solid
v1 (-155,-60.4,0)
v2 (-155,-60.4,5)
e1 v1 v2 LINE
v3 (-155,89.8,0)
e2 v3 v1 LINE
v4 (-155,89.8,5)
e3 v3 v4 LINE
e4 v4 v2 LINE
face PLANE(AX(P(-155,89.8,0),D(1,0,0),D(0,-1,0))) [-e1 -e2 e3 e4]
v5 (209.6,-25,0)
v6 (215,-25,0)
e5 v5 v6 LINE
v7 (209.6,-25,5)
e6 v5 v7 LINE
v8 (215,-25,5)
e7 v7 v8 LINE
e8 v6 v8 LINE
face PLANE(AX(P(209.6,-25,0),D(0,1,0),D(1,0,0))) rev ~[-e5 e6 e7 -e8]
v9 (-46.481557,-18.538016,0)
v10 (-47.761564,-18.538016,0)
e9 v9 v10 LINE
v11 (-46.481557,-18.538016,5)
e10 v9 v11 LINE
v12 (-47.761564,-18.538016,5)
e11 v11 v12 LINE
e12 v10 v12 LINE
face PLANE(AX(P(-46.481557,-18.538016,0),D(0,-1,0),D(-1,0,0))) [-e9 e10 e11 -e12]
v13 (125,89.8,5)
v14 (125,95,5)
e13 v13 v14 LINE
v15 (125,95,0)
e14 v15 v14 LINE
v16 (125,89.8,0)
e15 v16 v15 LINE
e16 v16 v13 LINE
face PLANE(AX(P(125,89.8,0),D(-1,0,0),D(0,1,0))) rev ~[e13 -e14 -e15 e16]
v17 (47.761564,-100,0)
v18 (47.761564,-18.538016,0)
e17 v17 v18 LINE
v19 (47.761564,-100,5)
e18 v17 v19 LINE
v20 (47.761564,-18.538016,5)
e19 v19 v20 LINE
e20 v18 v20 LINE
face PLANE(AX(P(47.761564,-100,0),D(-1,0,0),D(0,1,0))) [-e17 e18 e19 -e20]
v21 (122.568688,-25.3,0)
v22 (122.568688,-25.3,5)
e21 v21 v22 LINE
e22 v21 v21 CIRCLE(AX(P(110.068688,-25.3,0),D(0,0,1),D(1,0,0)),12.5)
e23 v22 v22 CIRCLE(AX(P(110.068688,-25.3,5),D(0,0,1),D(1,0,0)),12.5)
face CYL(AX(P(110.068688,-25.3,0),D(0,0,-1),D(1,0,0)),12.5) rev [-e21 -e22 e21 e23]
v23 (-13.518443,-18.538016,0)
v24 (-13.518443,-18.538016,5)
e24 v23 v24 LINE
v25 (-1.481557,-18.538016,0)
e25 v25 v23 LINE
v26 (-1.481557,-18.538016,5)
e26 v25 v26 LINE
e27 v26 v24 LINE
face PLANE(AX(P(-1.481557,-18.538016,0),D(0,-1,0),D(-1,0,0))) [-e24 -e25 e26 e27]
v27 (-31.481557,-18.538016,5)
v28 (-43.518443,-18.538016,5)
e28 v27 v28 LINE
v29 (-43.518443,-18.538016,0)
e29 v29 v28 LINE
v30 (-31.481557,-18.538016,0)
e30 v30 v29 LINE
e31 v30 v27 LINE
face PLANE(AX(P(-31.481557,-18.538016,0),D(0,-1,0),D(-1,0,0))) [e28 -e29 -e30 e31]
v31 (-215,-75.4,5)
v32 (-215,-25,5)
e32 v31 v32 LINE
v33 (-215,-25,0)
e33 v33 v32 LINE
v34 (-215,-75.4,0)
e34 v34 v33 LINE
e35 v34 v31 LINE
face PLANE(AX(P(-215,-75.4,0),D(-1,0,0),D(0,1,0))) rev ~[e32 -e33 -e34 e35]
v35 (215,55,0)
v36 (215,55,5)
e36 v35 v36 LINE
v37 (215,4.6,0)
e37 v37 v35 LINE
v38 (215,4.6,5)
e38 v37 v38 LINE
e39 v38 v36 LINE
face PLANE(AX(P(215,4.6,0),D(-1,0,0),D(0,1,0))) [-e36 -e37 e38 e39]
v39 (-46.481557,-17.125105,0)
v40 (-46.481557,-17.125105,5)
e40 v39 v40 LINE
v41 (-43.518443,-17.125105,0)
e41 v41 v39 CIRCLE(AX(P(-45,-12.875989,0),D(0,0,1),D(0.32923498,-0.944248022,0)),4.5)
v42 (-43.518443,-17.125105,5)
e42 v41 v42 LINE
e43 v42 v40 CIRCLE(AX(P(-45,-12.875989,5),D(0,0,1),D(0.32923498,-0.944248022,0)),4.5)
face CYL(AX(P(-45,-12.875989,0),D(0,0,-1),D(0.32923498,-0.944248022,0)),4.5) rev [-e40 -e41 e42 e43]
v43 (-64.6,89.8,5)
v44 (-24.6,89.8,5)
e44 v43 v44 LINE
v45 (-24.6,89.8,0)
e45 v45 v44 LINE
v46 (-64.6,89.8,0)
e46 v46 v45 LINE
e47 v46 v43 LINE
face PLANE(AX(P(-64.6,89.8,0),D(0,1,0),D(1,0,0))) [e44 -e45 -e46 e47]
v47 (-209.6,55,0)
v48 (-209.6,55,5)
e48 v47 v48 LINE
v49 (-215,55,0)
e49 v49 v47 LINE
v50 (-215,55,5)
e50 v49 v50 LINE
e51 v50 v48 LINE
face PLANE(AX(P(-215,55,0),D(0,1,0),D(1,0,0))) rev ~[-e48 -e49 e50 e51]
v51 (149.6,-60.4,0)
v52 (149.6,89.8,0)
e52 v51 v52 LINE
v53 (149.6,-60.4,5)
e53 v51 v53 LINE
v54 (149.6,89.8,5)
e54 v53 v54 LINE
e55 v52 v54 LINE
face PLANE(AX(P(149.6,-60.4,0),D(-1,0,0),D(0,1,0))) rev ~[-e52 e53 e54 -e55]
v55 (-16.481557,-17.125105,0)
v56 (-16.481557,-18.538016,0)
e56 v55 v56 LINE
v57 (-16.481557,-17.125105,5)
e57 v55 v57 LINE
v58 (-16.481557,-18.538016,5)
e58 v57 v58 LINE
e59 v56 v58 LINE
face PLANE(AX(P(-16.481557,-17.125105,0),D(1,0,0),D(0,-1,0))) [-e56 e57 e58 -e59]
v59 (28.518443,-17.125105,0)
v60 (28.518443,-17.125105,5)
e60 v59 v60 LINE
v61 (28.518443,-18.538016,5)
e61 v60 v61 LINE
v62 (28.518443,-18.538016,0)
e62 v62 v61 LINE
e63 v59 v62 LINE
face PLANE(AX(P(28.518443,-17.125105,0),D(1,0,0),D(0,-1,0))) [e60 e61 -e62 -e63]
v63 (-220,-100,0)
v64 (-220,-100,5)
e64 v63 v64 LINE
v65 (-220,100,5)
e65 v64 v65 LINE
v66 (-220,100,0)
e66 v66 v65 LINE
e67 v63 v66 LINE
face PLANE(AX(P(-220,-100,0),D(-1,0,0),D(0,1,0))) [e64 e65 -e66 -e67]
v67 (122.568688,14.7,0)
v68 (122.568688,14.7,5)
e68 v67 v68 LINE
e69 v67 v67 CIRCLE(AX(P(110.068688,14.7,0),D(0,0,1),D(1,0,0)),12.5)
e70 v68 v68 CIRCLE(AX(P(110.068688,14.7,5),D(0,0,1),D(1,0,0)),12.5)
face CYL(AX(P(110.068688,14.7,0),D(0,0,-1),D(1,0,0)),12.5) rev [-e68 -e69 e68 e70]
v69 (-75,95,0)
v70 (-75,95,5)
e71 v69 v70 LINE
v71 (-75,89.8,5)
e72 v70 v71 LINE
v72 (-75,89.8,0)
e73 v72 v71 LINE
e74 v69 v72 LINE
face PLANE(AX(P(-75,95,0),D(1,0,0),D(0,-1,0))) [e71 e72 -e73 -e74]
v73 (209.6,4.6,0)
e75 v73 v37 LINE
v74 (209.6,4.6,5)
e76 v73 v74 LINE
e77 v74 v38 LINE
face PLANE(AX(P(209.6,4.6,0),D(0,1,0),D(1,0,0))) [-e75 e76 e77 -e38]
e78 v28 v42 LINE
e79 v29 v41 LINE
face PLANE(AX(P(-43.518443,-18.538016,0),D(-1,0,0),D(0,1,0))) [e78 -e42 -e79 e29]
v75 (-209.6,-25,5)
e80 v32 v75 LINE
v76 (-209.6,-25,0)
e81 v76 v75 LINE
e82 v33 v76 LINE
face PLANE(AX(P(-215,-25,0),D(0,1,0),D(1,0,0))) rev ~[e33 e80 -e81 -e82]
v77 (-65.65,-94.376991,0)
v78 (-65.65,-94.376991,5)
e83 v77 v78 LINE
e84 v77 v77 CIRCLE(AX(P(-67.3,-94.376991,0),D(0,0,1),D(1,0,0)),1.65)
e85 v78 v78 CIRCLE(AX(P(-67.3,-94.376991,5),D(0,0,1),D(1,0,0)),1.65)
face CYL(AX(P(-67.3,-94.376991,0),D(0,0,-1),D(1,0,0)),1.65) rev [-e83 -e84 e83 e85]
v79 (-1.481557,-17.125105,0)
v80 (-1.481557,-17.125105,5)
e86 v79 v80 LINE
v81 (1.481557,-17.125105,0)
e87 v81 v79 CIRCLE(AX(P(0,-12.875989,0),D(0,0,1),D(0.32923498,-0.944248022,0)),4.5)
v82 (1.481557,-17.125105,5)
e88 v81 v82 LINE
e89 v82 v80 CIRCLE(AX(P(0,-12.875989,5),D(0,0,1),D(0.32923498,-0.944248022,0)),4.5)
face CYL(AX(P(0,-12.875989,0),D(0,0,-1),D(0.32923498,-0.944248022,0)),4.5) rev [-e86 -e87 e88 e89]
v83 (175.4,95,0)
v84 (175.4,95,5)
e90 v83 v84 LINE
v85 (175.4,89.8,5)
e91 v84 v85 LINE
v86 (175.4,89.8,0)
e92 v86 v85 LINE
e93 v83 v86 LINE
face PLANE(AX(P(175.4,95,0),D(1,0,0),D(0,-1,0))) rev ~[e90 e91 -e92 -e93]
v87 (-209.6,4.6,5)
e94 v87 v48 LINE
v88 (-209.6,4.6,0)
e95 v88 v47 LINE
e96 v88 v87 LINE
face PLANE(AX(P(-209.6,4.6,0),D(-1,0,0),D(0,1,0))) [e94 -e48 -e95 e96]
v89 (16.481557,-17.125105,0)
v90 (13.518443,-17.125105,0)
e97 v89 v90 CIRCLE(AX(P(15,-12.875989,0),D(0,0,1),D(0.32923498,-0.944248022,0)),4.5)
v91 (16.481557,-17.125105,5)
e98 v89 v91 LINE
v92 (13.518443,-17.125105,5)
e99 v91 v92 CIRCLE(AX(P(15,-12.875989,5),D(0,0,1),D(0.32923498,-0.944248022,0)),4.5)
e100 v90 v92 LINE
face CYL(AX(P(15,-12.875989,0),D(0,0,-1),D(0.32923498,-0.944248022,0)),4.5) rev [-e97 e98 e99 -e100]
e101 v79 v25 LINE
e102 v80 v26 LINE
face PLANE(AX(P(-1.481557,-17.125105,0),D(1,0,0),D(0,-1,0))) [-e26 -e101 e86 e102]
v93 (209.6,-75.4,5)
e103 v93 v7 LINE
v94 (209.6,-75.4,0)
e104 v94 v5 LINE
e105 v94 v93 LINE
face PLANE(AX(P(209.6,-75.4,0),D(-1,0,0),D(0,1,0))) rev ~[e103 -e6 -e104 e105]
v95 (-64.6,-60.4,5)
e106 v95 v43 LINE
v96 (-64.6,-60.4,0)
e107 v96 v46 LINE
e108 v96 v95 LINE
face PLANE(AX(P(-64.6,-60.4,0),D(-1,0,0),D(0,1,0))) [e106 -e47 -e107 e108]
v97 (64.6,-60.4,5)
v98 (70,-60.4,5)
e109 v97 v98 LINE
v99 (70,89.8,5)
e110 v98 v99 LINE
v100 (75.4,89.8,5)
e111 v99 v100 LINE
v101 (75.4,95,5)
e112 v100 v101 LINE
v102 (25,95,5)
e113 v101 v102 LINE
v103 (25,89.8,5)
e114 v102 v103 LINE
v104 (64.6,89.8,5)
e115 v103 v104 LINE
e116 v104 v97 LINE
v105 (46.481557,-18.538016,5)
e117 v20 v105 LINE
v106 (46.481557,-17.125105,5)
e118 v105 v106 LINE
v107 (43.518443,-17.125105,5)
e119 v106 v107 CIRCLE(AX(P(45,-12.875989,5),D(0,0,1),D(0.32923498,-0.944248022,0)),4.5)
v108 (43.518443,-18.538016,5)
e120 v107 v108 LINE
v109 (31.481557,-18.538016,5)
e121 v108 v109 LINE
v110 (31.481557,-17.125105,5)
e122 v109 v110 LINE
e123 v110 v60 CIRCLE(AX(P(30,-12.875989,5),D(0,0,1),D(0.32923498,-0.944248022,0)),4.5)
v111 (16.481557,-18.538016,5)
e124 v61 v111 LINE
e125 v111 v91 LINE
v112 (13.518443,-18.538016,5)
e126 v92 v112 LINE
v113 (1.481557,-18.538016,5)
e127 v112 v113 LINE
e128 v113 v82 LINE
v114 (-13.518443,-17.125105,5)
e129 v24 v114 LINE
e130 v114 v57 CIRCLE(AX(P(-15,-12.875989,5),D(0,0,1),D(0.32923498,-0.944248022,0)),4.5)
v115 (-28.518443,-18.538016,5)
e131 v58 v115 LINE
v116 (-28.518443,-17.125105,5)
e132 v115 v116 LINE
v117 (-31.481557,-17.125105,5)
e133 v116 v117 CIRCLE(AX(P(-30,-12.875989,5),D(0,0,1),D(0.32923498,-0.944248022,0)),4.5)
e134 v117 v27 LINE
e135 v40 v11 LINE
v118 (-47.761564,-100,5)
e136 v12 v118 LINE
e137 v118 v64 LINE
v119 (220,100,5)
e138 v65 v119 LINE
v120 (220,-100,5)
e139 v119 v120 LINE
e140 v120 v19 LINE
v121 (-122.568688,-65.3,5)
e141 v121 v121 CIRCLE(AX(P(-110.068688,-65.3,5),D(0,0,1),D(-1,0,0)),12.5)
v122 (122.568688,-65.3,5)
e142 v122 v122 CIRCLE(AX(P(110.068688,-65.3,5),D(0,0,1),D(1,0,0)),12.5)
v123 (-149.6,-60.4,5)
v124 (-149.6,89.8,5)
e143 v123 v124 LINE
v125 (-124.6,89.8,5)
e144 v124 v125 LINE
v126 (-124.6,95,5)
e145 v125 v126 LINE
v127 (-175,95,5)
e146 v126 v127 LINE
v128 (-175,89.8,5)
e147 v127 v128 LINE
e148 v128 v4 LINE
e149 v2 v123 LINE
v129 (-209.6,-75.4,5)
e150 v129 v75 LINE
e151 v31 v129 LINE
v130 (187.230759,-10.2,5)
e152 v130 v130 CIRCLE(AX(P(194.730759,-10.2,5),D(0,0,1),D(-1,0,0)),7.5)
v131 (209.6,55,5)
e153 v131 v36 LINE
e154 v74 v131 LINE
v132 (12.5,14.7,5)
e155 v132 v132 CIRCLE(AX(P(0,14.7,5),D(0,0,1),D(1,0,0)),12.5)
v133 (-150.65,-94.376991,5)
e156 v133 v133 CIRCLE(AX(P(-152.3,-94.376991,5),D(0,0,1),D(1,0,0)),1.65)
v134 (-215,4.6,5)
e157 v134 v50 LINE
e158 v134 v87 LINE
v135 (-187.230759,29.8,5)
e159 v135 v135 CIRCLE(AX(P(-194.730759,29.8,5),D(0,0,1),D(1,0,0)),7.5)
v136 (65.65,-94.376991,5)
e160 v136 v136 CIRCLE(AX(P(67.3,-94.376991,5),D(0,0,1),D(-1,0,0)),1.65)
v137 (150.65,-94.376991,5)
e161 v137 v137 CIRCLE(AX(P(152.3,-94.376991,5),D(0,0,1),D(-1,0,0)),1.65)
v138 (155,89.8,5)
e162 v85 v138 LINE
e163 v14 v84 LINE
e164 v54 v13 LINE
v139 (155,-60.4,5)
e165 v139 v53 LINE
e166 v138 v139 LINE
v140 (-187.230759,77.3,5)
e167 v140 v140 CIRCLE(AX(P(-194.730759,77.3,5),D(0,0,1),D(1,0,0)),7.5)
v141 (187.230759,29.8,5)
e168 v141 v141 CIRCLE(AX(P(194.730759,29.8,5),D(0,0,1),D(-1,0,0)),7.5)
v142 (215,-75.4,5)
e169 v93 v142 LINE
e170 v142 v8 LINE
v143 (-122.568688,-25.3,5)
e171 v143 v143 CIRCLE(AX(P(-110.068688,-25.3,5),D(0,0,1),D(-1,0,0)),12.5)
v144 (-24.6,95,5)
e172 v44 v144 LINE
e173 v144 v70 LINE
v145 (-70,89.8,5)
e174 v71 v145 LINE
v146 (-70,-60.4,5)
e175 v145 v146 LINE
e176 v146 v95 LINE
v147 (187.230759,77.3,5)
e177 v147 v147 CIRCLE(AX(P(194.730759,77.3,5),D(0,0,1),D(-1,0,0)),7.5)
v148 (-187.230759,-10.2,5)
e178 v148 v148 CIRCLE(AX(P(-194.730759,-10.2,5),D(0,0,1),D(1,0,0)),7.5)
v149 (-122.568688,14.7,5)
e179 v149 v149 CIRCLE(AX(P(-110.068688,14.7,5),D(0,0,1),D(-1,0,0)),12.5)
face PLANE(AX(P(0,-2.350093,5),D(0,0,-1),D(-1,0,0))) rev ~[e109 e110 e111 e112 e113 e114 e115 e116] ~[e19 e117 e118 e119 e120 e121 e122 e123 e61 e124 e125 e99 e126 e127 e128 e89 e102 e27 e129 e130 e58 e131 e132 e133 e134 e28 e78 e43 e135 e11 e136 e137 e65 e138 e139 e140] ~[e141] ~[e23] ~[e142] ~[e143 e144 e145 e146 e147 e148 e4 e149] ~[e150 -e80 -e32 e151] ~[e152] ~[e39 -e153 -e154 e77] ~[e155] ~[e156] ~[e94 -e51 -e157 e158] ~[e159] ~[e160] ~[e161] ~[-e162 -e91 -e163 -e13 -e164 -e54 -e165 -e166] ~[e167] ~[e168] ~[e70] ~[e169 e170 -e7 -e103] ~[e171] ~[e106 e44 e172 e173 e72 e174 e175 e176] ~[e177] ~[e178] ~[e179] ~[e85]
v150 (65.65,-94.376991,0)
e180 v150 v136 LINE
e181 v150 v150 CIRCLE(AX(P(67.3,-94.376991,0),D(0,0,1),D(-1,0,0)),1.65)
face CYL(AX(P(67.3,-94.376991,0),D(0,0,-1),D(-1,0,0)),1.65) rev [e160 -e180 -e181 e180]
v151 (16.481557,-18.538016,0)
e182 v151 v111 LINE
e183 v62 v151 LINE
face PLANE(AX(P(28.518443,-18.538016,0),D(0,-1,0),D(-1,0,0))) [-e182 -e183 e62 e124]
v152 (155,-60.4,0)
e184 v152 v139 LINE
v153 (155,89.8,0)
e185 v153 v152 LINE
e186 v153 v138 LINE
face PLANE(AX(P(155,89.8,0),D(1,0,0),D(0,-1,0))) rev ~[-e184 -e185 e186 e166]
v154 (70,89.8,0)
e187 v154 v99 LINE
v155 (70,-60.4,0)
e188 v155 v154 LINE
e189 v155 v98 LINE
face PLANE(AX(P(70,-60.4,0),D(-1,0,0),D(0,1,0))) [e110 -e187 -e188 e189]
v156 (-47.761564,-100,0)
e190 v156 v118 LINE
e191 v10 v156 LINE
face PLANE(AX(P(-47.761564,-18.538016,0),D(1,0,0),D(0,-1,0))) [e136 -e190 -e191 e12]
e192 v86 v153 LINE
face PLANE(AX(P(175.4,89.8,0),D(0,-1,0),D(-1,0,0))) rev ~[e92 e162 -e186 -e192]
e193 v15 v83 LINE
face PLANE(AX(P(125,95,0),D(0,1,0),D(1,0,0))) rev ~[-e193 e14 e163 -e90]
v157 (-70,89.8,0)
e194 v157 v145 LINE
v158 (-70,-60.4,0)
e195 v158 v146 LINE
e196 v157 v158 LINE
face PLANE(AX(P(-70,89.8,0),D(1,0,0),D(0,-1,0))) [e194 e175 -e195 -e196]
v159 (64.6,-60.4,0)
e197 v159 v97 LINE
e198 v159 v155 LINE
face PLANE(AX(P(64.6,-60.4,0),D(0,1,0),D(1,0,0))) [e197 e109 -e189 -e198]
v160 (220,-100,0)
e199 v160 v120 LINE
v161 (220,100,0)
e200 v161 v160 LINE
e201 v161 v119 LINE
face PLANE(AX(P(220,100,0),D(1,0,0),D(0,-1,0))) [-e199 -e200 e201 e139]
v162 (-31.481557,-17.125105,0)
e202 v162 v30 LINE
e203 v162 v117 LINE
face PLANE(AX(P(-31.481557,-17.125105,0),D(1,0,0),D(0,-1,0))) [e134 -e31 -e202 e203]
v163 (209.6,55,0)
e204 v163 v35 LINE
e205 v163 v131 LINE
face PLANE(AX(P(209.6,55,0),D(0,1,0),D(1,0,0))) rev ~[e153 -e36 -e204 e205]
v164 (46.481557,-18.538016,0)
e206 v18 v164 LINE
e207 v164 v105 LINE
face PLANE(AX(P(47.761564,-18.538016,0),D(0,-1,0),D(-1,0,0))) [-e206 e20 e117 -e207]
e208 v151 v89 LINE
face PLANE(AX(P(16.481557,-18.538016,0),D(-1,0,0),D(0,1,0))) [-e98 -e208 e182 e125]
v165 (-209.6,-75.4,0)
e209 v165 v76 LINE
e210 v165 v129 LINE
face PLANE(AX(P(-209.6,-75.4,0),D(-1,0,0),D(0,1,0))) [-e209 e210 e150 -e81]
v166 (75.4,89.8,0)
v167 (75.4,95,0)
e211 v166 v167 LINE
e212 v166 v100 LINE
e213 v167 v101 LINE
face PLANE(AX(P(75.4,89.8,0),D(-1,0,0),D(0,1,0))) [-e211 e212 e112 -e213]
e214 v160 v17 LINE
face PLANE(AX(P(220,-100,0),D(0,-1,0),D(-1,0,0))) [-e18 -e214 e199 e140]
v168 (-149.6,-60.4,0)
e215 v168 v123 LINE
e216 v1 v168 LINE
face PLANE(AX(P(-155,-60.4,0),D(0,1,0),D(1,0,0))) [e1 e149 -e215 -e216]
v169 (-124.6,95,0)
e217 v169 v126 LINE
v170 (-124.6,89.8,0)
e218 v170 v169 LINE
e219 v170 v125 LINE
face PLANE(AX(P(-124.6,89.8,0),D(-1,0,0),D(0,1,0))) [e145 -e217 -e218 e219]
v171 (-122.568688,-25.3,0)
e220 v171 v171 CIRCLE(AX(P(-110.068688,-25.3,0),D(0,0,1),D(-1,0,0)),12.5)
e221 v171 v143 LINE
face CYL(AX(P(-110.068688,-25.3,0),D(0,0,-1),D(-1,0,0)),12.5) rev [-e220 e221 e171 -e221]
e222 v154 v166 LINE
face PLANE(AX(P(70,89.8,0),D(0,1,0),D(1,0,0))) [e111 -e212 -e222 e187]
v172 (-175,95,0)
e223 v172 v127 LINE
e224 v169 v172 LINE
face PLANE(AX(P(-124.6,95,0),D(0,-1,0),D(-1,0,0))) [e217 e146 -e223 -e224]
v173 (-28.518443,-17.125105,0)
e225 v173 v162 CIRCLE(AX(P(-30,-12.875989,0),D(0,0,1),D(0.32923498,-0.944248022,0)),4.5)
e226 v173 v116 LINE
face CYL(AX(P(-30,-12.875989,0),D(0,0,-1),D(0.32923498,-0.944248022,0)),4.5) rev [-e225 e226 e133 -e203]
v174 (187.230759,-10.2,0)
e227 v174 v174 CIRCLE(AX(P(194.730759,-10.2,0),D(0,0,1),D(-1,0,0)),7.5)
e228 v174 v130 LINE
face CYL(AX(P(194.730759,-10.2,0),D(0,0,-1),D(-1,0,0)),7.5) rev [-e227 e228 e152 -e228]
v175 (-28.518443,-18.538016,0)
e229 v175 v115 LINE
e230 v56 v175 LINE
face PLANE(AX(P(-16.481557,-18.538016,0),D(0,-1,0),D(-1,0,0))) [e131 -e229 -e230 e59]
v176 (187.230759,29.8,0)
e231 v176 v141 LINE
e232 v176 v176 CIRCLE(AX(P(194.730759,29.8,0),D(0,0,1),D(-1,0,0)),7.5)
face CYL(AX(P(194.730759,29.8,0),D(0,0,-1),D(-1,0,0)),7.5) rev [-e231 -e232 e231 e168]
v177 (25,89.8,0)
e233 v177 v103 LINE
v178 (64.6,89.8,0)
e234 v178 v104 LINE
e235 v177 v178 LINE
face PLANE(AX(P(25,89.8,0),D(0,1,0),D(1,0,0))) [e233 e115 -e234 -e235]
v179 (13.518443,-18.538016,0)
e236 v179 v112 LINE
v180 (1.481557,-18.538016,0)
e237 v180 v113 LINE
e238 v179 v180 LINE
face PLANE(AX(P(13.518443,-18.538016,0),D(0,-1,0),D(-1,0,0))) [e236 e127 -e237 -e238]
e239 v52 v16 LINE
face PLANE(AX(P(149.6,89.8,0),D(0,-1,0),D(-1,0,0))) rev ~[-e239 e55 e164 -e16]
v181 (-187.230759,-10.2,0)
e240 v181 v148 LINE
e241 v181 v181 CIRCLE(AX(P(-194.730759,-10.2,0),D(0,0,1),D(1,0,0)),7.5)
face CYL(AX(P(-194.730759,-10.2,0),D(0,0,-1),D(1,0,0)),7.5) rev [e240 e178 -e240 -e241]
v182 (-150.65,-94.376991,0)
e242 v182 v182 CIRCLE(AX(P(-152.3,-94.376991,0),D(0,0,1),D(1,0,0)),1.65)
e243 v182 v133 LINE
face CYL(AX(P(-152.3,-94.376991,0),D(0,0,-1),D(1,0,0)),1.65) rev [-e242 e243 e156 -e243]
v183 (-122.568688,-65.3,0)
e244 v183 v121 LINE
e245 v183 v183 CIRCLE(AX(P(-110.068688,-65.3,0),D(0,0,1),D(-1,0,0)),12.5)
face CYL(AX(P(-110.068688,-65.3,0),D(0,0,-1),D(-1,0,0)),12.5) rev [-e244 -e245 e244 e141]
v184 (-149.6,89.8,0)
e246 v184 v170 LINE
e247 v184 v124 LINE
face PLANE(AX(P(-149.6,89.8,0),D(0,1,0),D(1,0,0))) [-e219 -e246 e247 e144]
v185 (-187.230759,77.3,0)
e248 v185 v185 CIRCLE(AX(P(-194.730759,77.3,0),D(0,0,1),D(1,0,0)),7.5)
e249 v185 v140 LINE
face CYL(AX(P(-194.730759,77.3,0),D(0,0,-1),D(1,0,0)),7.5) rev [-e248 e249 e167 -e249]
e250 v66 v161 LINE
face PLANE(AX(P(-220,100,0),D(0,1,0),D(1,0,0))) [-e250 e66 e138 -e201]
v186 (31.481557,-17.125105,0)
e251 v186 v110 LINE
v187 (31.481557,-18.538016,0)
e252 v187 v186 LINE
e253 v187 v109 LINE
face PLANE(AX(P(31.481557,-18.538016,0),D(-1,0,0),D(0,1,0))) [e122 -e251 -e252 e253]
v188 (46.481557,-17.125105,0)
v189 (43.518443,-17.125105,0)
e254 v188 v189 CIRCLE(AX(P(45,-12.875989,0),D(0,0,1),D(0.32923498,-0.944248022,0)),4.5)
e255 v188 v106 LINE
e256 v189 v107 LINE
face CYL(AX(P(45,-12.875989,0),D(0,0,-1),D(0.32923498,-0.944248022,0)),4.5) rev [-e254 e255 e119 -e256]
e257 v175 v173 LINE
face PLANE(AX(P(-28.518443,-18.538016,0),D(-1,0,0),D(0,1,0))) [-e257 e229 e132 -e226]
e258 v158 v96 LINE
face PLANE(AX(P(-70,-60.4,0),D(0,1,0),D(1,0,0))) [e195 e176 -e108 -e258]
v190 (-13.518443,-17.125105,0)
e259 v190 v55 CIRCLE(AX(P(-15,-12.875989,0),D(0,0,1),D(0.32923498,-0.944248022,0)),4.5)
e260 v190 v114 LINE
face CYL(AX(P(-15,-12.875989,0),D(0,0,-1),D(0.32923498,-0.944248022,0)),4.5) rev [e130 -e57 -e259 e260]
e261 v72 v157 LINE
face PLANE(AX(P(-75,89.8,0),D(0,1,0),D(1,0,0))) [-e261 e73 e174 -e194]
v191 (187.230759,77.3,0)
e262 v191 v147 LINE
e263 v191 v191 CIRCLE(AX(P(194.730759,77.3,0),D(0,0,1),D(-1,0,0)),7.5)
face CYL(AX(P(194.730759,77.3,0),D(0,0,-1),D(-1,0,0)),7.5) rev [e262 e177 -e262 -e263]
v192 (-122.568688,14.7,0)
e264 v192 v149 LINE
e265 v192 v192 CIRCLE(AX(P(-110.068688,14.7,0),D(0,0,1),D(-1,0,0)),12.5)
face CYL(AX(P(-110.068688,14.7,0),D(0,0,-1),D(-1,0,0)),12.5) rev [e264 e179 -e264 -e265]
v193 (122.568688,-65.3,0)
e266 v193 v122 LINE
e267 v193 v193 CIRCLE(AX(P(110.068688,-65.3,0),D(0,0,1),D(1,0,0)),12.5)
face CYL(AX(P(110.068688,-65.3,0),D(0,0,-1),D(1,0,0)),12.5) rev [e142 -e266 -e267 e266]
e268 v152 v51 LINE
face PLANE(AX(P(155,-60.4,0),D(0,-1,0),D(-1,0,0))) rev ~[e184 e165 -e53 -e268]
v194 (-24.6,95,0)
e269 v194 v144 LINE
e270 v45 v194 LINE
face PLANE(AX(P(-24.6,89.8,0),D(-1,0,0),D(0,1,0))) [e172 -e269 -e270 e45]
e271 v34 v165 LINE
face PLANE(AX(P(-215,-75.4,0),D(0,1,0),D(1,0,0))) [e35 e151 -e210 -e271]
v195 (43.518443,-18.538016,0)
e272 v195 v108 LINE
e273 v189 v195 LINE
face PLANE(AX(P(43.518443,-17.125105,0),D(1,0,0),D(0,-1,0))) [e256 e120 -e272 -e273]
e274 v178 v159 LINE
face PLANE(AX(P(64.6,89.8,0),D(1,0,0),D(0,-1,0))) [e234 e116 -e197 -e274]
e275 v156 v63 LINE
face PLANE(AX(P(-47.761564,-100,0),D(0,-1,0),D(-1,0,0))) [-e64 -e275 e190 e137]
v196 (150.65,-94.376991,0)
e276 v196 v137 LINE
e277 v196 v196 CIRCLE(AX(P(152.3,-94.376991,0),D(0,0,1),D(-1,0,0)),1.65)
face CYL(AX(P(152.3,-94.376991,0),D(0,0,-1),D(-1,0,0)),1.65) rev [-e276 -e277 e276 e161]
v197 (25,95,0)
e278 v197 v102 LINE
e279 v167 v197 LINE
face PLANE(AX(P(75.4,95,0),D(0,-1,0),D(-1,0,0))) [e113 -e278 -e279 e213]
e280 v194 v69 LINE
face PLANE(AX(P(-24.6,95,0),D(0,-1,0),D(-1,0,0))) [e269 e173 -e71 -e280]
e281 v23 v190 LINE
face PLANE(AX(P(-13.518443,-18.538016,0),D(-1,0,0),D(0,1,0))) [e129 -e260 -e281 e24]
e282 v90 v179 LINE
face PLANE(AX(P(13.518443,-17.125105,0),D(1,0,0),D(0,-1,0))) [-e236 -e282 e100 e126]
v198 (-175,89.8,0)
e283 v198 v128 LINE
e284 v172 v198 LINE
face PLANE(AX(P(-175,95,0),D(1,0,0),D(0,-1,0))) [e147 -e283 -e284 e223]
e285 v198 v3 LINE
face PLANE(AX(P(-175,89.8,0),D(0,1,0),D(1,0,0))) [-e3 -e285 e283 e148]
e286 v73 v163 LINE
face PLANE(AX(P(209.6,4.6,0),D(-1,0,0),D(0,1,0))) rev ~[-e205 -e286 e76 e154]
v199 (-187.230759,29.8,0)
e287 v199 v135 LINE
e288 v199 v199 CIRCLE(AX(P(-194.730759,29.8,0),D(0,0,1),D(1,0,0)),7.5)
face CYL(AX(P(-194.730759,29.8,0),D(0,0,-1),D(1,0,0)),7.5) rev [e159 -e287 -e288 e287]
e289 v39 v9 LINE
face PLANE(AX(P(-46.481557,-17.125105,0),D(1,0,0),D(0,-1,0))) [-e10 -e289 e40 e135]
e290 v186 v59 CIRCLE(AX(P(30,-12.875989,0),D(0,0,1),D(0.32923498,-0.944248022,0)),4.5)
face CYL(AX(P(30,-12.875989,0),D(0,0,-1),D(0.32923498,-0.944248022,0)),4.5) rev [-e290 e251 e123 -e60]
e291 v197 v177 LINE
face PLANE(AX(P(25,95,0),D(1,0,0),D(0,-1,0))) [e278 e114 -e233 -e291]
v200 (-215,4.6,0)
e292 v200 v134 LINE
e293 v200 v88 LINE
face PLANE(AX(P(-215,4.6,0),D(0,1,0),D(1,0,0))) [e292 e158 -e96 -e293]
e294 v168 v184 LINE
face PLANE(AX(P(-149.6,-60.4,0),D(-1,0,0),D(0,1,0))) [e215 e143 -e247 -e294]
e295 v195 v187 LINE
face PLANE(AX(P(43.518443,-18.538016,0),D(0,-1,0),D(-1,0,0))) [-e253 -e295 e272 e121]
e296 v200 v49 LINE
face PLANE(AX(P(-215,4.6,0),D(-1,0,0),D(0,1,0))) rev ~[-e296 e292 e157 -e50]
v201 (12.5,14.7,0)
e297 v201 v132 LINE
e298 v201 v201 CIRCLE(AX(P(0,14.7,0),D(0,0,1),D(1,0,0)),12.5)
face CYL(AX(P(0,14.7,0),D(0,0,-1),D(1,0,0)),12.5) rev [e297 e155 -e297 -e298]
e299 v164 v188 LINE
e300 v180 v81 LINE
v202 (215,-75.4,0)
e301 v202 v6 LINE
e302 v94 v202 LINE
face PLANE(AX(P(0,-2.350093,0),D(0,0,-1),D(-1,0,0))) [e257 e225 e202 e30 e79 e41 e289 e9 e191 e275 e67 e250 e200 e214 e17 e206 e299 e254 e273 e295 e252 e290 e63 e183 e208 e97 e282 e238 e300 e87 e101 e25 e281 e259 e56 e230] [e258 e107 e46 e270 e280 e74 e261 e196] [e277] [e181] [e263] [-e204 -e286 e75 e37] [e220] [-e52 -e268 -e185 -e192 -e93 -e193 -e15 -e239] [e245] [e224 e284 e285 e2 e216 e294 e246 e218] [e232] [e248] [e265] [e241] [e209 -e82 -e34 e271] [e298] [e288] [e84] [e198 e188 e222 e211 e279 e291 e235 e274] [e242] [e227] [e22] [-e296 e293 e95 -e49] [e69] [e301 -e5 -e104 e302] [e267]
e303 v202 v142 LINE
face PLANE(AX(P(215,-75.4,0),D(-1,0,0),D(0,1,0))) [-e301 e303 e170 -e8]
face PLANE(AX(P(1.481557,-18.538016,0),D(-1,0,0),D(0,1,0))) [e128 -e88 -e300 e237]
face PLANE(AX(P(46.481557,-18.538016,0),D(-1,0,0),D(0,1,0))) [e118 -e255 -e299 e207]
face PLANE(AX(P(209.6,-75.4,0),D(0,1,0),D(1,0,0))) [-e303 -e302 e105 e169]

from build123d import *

# Parameters (mm, degrees)
ESQUISSE1_R        = 1.65
ESQUISSE1_R_2      = 7.5
ESQUISSE1_R_3      = 12.5
ESQUISSE1_W        = 5.4
ESQUISSE1_H        = 50.4
BOSS_EXTRU_1_DEPTH = 5


with BuildPart() as part:
    # Esquisse1 → Boss.-Extru.1 (new body)
    with BuildSketch(Plane.XY):
        with BuildLine():
            Line((-220, 100), (-0.145812859, 100))
            Line((-0.145812859, 100), (9.854187141, 100))
            Line((9.854187141, 100), (220, 100))
            Line((220, 100), (220, -100))
            Line((220, -100), (47.761564371, -100))
            Line((47.761564371, -100), (47.761564371, -18.538015518))
            Line((47.761564371, -18.538015518), (46.481557411, -18.538015518))
            Line((46.481557411, -18.538015518), (46.481557411, -17.125104692))
            ThreePointArc((46.481557411, -17.125104692), (45, -8.375988591), (43.518442589, -17.125104692))
            Line((43.518442589, -17.125104692), (43.518442589, -18.538015518))
            Line((43.518442589, -18.538015518), (31.481557411, -18.538015518))
            Line((31.481557411, -18.538015518), (31.481557411, -17.125104692))
            ThreePointArc((31.481557411, -17.125104692), (30, -8.375988591), (28.518442589, -17.125104692))
            Line((28.518442589, -17.125104692), (28.518442589, -18.538015518))
            Line((28.518442589, -18.538015518), (16.481557411, -18.538015518))
            Line((16.481557411, -18.538015518), (16.481557411, -17.125104692))
            ThreePointArc((16.481557411, -17.125104692), (15, -8.375988591), (13.518442589, -17.125104692))
            Line((13.518442589, -17.125104692), (13.518442589, -18.538015518))
            Line((13.518442589, -18.538015518), (1.481557411, -18.538015518))
            Line((1.481557411, -18.538015518), (1.481557411, -17.125104692))
            ThreePointArc((1.481557411, -17.125104692), (0, -8.375988591), (-1.481557411, -17.125104692))
            Line((-1.481557411, -17.125104692), (-1.481557411, -18.538015518))
            Line((-1.481557411, -18.538015518), (-13.518442589, -18.538015518))
            Line((-13.518442589, -18.538015518), (-13.518442589, -17.125104692))
            ThreePointArc((-13.518442589, -17.125104692), (-15, -8.375988591), (-16.481557411, -17.125104692))
            Line((-16.481557411, -17.125104692), (-16.481557411, -18.538015518))
            Line((-16.481557411, -18.538015518), (-28.518442589, -18.538015518))
            Line((-28.518442589, -18.538015518), (-28.518442589, -17.125104692))
            ThreePointArc((-28.518442589, -17.125104692), (-30, -8.375988591), (-31.481557411, -17.125104692))
            Line((-31.481557411, -17.125104692), (-31.481557411, -18.538015518))
            Line((-31.481557411, -18.538015518), (-43.518442589, -18.538015518))
            Line((-43.518442589, -18.538015518), (-43.518442589, -17.125104692))
            ThreePointArc((-43.518442589, -17.125104692), (-45, -8.375988591), (-46.481557411, -17.125104692))
            Line((-46.481557411, -17.125104692), (-46.481557411, -18.538015518))
            Line((-46.481557411, -18.538015518), (-47.761564371, -18.538015518))
            Line((-47.761564371, -18.538015518), (-47.761564371, -100))
            Line((-47.761564371, -100), (-220, -100))
            Line((-220, -100), (-220, 100))
        make_face()
        with Locations((-152.3, -94.376990981)):
            Circle(ESQUISSE1_R, mode=Mode.SUBTRACT)
        with Locations((-67.3, -94.376990981)):
            Circle(ESQUISSE1_R, mode=Mode.SUBTRACT)
        with Locations(Location((67.3, -94.376990981, 0), (0, 0, 180))):
            Circle(ESQUISSE1_R, mode=Mode.SUBTRACT)
        with Locations(Location((152.3, -94.376990981, 0), (0, 0, 180))):
            Circle(ESQUISSE1_R, mode=Mode.SUBTRACT)
        with Locations((-194.730758968, 77.3)):
            Circle(ESQUISSE1_R_2, mode=Mode.SUBTRACT)
        with Locations((-194.730758968, -10.2)):
            Circle(ESQUISSE1_R_2, mode=Mode.SUBTRACT)
        with Locations((-194.730758968, 29.8)):
            Circle(ESQUISSE1_R_2, mode=Mode.SUBTRACT)
        with Locations(Location((194.730758968, -10.2, 0), (0, 0, 180))):
            Circle(ESQUISSE1_R_2, mode=Mode.SUBTRACT)
        with Locations(Location((194.730758968, 77.3, 0), (0, 0, 180))):
            Circle(ESQUISSE1_R_2, mode=Mode.SUBTRACT)
        with Locations(Location((194.730758968, 29.8, 0), (0, 0, 180))):
            Circle(ESQUISSE1_R_2, mode=Mode.SUBTRACT)
        with Locations((110.068688128, 14.7)):
            Circle(ESQUISSE1_R_3, mode=Mode.SUBTRACT)
        with Locations((0, 14.7)):
            Circle(ESQUISSE1_R_3, mode=Mode.SUBTRACT)
        with Locations(Location((-110.068688128, 14.7, 0), (0, 0, 180))):
            Circle(ESQUISSE1_R_3, mode=Mode.SUBTRACT)
        with Locations((110.068688128, -25.3)):
            Circle(ESQUISSE1_R_3, mode=Mode.SUBTRACT)
        with Locations(Location((-110.068688128, -25.3, 0), (0, 0, 180))):
            Circle(ESQUISSE1_R_3, mode=Mode.SUBTRACT)
        with Locations((110.068688128, -65.3)):
            Circle(ESQUISSE1_R_3, mode=Mode.SUBTRACT)
        with Locations(Location((-110.068688128, -65.3, 0), (0, 0, 180))):
            Circle(ESQUISSE1_R_3, mode=Mode.SUBTRACT)
        Polygon((-70, 89.8), (-70, -60.4), (-64.6, -60.4), (-64.6, 89.8), (-24.6, 89.8), (-24.6, 95), (-75, 95), (-75, 89.8), align=None, mode=Mode.SUBTRACT)
        Polygon((-155, 89.8), (-155, -60.4), (-149.6, -60.4), (-149.6, 89.8), (-124.6, 89.8), (-124.6, 95), (-175, 95), (-175, 89.8), align=None, mode=Mode.SUBTRACT)
        Polygon((155, -60.4), (149.6, -60.4), (149.6, 89.8), (125, 89.8), (125, 95), (175.4, 95), (175.4, 89.8), (155, 89.8), align=None, mode=Mode.SUBTRACT)
        Polygon((64.6, 89.8), (64.6, -60.4), (70, -60.4), (70, 89.8), (75.4, 89.8), (75.4, 95), (25, 95), (25, 89.8), align=None, mode=Mode.SUBTRACT)
        with Locations((212.3, -50.2)):
            Rectangle(ESQUISSE1_W, ESQUISSE1_H, mode=Mode.SUBTRACT)
        with Locations((212.3, 29.8)):
            Rectangle(ESQUISSE1_W, ESQUISSE1_H, mode=Mode.SUBTRACT)
        with Locations((-212.3, -50.2)):
            Rectangle(ESQUISSE1_W, ESQUISSE1_H, mode=Mode.SUBTRACT)
        with Locations((-212.3, 29.8)):
            Rectangle(ESQUISSE1_W, ESQUISSE1_H, mode=Mode.SUBTRACT)
    extrude(amount=BOSS_EXTRU_1_DEPTH)


solid = part.part
